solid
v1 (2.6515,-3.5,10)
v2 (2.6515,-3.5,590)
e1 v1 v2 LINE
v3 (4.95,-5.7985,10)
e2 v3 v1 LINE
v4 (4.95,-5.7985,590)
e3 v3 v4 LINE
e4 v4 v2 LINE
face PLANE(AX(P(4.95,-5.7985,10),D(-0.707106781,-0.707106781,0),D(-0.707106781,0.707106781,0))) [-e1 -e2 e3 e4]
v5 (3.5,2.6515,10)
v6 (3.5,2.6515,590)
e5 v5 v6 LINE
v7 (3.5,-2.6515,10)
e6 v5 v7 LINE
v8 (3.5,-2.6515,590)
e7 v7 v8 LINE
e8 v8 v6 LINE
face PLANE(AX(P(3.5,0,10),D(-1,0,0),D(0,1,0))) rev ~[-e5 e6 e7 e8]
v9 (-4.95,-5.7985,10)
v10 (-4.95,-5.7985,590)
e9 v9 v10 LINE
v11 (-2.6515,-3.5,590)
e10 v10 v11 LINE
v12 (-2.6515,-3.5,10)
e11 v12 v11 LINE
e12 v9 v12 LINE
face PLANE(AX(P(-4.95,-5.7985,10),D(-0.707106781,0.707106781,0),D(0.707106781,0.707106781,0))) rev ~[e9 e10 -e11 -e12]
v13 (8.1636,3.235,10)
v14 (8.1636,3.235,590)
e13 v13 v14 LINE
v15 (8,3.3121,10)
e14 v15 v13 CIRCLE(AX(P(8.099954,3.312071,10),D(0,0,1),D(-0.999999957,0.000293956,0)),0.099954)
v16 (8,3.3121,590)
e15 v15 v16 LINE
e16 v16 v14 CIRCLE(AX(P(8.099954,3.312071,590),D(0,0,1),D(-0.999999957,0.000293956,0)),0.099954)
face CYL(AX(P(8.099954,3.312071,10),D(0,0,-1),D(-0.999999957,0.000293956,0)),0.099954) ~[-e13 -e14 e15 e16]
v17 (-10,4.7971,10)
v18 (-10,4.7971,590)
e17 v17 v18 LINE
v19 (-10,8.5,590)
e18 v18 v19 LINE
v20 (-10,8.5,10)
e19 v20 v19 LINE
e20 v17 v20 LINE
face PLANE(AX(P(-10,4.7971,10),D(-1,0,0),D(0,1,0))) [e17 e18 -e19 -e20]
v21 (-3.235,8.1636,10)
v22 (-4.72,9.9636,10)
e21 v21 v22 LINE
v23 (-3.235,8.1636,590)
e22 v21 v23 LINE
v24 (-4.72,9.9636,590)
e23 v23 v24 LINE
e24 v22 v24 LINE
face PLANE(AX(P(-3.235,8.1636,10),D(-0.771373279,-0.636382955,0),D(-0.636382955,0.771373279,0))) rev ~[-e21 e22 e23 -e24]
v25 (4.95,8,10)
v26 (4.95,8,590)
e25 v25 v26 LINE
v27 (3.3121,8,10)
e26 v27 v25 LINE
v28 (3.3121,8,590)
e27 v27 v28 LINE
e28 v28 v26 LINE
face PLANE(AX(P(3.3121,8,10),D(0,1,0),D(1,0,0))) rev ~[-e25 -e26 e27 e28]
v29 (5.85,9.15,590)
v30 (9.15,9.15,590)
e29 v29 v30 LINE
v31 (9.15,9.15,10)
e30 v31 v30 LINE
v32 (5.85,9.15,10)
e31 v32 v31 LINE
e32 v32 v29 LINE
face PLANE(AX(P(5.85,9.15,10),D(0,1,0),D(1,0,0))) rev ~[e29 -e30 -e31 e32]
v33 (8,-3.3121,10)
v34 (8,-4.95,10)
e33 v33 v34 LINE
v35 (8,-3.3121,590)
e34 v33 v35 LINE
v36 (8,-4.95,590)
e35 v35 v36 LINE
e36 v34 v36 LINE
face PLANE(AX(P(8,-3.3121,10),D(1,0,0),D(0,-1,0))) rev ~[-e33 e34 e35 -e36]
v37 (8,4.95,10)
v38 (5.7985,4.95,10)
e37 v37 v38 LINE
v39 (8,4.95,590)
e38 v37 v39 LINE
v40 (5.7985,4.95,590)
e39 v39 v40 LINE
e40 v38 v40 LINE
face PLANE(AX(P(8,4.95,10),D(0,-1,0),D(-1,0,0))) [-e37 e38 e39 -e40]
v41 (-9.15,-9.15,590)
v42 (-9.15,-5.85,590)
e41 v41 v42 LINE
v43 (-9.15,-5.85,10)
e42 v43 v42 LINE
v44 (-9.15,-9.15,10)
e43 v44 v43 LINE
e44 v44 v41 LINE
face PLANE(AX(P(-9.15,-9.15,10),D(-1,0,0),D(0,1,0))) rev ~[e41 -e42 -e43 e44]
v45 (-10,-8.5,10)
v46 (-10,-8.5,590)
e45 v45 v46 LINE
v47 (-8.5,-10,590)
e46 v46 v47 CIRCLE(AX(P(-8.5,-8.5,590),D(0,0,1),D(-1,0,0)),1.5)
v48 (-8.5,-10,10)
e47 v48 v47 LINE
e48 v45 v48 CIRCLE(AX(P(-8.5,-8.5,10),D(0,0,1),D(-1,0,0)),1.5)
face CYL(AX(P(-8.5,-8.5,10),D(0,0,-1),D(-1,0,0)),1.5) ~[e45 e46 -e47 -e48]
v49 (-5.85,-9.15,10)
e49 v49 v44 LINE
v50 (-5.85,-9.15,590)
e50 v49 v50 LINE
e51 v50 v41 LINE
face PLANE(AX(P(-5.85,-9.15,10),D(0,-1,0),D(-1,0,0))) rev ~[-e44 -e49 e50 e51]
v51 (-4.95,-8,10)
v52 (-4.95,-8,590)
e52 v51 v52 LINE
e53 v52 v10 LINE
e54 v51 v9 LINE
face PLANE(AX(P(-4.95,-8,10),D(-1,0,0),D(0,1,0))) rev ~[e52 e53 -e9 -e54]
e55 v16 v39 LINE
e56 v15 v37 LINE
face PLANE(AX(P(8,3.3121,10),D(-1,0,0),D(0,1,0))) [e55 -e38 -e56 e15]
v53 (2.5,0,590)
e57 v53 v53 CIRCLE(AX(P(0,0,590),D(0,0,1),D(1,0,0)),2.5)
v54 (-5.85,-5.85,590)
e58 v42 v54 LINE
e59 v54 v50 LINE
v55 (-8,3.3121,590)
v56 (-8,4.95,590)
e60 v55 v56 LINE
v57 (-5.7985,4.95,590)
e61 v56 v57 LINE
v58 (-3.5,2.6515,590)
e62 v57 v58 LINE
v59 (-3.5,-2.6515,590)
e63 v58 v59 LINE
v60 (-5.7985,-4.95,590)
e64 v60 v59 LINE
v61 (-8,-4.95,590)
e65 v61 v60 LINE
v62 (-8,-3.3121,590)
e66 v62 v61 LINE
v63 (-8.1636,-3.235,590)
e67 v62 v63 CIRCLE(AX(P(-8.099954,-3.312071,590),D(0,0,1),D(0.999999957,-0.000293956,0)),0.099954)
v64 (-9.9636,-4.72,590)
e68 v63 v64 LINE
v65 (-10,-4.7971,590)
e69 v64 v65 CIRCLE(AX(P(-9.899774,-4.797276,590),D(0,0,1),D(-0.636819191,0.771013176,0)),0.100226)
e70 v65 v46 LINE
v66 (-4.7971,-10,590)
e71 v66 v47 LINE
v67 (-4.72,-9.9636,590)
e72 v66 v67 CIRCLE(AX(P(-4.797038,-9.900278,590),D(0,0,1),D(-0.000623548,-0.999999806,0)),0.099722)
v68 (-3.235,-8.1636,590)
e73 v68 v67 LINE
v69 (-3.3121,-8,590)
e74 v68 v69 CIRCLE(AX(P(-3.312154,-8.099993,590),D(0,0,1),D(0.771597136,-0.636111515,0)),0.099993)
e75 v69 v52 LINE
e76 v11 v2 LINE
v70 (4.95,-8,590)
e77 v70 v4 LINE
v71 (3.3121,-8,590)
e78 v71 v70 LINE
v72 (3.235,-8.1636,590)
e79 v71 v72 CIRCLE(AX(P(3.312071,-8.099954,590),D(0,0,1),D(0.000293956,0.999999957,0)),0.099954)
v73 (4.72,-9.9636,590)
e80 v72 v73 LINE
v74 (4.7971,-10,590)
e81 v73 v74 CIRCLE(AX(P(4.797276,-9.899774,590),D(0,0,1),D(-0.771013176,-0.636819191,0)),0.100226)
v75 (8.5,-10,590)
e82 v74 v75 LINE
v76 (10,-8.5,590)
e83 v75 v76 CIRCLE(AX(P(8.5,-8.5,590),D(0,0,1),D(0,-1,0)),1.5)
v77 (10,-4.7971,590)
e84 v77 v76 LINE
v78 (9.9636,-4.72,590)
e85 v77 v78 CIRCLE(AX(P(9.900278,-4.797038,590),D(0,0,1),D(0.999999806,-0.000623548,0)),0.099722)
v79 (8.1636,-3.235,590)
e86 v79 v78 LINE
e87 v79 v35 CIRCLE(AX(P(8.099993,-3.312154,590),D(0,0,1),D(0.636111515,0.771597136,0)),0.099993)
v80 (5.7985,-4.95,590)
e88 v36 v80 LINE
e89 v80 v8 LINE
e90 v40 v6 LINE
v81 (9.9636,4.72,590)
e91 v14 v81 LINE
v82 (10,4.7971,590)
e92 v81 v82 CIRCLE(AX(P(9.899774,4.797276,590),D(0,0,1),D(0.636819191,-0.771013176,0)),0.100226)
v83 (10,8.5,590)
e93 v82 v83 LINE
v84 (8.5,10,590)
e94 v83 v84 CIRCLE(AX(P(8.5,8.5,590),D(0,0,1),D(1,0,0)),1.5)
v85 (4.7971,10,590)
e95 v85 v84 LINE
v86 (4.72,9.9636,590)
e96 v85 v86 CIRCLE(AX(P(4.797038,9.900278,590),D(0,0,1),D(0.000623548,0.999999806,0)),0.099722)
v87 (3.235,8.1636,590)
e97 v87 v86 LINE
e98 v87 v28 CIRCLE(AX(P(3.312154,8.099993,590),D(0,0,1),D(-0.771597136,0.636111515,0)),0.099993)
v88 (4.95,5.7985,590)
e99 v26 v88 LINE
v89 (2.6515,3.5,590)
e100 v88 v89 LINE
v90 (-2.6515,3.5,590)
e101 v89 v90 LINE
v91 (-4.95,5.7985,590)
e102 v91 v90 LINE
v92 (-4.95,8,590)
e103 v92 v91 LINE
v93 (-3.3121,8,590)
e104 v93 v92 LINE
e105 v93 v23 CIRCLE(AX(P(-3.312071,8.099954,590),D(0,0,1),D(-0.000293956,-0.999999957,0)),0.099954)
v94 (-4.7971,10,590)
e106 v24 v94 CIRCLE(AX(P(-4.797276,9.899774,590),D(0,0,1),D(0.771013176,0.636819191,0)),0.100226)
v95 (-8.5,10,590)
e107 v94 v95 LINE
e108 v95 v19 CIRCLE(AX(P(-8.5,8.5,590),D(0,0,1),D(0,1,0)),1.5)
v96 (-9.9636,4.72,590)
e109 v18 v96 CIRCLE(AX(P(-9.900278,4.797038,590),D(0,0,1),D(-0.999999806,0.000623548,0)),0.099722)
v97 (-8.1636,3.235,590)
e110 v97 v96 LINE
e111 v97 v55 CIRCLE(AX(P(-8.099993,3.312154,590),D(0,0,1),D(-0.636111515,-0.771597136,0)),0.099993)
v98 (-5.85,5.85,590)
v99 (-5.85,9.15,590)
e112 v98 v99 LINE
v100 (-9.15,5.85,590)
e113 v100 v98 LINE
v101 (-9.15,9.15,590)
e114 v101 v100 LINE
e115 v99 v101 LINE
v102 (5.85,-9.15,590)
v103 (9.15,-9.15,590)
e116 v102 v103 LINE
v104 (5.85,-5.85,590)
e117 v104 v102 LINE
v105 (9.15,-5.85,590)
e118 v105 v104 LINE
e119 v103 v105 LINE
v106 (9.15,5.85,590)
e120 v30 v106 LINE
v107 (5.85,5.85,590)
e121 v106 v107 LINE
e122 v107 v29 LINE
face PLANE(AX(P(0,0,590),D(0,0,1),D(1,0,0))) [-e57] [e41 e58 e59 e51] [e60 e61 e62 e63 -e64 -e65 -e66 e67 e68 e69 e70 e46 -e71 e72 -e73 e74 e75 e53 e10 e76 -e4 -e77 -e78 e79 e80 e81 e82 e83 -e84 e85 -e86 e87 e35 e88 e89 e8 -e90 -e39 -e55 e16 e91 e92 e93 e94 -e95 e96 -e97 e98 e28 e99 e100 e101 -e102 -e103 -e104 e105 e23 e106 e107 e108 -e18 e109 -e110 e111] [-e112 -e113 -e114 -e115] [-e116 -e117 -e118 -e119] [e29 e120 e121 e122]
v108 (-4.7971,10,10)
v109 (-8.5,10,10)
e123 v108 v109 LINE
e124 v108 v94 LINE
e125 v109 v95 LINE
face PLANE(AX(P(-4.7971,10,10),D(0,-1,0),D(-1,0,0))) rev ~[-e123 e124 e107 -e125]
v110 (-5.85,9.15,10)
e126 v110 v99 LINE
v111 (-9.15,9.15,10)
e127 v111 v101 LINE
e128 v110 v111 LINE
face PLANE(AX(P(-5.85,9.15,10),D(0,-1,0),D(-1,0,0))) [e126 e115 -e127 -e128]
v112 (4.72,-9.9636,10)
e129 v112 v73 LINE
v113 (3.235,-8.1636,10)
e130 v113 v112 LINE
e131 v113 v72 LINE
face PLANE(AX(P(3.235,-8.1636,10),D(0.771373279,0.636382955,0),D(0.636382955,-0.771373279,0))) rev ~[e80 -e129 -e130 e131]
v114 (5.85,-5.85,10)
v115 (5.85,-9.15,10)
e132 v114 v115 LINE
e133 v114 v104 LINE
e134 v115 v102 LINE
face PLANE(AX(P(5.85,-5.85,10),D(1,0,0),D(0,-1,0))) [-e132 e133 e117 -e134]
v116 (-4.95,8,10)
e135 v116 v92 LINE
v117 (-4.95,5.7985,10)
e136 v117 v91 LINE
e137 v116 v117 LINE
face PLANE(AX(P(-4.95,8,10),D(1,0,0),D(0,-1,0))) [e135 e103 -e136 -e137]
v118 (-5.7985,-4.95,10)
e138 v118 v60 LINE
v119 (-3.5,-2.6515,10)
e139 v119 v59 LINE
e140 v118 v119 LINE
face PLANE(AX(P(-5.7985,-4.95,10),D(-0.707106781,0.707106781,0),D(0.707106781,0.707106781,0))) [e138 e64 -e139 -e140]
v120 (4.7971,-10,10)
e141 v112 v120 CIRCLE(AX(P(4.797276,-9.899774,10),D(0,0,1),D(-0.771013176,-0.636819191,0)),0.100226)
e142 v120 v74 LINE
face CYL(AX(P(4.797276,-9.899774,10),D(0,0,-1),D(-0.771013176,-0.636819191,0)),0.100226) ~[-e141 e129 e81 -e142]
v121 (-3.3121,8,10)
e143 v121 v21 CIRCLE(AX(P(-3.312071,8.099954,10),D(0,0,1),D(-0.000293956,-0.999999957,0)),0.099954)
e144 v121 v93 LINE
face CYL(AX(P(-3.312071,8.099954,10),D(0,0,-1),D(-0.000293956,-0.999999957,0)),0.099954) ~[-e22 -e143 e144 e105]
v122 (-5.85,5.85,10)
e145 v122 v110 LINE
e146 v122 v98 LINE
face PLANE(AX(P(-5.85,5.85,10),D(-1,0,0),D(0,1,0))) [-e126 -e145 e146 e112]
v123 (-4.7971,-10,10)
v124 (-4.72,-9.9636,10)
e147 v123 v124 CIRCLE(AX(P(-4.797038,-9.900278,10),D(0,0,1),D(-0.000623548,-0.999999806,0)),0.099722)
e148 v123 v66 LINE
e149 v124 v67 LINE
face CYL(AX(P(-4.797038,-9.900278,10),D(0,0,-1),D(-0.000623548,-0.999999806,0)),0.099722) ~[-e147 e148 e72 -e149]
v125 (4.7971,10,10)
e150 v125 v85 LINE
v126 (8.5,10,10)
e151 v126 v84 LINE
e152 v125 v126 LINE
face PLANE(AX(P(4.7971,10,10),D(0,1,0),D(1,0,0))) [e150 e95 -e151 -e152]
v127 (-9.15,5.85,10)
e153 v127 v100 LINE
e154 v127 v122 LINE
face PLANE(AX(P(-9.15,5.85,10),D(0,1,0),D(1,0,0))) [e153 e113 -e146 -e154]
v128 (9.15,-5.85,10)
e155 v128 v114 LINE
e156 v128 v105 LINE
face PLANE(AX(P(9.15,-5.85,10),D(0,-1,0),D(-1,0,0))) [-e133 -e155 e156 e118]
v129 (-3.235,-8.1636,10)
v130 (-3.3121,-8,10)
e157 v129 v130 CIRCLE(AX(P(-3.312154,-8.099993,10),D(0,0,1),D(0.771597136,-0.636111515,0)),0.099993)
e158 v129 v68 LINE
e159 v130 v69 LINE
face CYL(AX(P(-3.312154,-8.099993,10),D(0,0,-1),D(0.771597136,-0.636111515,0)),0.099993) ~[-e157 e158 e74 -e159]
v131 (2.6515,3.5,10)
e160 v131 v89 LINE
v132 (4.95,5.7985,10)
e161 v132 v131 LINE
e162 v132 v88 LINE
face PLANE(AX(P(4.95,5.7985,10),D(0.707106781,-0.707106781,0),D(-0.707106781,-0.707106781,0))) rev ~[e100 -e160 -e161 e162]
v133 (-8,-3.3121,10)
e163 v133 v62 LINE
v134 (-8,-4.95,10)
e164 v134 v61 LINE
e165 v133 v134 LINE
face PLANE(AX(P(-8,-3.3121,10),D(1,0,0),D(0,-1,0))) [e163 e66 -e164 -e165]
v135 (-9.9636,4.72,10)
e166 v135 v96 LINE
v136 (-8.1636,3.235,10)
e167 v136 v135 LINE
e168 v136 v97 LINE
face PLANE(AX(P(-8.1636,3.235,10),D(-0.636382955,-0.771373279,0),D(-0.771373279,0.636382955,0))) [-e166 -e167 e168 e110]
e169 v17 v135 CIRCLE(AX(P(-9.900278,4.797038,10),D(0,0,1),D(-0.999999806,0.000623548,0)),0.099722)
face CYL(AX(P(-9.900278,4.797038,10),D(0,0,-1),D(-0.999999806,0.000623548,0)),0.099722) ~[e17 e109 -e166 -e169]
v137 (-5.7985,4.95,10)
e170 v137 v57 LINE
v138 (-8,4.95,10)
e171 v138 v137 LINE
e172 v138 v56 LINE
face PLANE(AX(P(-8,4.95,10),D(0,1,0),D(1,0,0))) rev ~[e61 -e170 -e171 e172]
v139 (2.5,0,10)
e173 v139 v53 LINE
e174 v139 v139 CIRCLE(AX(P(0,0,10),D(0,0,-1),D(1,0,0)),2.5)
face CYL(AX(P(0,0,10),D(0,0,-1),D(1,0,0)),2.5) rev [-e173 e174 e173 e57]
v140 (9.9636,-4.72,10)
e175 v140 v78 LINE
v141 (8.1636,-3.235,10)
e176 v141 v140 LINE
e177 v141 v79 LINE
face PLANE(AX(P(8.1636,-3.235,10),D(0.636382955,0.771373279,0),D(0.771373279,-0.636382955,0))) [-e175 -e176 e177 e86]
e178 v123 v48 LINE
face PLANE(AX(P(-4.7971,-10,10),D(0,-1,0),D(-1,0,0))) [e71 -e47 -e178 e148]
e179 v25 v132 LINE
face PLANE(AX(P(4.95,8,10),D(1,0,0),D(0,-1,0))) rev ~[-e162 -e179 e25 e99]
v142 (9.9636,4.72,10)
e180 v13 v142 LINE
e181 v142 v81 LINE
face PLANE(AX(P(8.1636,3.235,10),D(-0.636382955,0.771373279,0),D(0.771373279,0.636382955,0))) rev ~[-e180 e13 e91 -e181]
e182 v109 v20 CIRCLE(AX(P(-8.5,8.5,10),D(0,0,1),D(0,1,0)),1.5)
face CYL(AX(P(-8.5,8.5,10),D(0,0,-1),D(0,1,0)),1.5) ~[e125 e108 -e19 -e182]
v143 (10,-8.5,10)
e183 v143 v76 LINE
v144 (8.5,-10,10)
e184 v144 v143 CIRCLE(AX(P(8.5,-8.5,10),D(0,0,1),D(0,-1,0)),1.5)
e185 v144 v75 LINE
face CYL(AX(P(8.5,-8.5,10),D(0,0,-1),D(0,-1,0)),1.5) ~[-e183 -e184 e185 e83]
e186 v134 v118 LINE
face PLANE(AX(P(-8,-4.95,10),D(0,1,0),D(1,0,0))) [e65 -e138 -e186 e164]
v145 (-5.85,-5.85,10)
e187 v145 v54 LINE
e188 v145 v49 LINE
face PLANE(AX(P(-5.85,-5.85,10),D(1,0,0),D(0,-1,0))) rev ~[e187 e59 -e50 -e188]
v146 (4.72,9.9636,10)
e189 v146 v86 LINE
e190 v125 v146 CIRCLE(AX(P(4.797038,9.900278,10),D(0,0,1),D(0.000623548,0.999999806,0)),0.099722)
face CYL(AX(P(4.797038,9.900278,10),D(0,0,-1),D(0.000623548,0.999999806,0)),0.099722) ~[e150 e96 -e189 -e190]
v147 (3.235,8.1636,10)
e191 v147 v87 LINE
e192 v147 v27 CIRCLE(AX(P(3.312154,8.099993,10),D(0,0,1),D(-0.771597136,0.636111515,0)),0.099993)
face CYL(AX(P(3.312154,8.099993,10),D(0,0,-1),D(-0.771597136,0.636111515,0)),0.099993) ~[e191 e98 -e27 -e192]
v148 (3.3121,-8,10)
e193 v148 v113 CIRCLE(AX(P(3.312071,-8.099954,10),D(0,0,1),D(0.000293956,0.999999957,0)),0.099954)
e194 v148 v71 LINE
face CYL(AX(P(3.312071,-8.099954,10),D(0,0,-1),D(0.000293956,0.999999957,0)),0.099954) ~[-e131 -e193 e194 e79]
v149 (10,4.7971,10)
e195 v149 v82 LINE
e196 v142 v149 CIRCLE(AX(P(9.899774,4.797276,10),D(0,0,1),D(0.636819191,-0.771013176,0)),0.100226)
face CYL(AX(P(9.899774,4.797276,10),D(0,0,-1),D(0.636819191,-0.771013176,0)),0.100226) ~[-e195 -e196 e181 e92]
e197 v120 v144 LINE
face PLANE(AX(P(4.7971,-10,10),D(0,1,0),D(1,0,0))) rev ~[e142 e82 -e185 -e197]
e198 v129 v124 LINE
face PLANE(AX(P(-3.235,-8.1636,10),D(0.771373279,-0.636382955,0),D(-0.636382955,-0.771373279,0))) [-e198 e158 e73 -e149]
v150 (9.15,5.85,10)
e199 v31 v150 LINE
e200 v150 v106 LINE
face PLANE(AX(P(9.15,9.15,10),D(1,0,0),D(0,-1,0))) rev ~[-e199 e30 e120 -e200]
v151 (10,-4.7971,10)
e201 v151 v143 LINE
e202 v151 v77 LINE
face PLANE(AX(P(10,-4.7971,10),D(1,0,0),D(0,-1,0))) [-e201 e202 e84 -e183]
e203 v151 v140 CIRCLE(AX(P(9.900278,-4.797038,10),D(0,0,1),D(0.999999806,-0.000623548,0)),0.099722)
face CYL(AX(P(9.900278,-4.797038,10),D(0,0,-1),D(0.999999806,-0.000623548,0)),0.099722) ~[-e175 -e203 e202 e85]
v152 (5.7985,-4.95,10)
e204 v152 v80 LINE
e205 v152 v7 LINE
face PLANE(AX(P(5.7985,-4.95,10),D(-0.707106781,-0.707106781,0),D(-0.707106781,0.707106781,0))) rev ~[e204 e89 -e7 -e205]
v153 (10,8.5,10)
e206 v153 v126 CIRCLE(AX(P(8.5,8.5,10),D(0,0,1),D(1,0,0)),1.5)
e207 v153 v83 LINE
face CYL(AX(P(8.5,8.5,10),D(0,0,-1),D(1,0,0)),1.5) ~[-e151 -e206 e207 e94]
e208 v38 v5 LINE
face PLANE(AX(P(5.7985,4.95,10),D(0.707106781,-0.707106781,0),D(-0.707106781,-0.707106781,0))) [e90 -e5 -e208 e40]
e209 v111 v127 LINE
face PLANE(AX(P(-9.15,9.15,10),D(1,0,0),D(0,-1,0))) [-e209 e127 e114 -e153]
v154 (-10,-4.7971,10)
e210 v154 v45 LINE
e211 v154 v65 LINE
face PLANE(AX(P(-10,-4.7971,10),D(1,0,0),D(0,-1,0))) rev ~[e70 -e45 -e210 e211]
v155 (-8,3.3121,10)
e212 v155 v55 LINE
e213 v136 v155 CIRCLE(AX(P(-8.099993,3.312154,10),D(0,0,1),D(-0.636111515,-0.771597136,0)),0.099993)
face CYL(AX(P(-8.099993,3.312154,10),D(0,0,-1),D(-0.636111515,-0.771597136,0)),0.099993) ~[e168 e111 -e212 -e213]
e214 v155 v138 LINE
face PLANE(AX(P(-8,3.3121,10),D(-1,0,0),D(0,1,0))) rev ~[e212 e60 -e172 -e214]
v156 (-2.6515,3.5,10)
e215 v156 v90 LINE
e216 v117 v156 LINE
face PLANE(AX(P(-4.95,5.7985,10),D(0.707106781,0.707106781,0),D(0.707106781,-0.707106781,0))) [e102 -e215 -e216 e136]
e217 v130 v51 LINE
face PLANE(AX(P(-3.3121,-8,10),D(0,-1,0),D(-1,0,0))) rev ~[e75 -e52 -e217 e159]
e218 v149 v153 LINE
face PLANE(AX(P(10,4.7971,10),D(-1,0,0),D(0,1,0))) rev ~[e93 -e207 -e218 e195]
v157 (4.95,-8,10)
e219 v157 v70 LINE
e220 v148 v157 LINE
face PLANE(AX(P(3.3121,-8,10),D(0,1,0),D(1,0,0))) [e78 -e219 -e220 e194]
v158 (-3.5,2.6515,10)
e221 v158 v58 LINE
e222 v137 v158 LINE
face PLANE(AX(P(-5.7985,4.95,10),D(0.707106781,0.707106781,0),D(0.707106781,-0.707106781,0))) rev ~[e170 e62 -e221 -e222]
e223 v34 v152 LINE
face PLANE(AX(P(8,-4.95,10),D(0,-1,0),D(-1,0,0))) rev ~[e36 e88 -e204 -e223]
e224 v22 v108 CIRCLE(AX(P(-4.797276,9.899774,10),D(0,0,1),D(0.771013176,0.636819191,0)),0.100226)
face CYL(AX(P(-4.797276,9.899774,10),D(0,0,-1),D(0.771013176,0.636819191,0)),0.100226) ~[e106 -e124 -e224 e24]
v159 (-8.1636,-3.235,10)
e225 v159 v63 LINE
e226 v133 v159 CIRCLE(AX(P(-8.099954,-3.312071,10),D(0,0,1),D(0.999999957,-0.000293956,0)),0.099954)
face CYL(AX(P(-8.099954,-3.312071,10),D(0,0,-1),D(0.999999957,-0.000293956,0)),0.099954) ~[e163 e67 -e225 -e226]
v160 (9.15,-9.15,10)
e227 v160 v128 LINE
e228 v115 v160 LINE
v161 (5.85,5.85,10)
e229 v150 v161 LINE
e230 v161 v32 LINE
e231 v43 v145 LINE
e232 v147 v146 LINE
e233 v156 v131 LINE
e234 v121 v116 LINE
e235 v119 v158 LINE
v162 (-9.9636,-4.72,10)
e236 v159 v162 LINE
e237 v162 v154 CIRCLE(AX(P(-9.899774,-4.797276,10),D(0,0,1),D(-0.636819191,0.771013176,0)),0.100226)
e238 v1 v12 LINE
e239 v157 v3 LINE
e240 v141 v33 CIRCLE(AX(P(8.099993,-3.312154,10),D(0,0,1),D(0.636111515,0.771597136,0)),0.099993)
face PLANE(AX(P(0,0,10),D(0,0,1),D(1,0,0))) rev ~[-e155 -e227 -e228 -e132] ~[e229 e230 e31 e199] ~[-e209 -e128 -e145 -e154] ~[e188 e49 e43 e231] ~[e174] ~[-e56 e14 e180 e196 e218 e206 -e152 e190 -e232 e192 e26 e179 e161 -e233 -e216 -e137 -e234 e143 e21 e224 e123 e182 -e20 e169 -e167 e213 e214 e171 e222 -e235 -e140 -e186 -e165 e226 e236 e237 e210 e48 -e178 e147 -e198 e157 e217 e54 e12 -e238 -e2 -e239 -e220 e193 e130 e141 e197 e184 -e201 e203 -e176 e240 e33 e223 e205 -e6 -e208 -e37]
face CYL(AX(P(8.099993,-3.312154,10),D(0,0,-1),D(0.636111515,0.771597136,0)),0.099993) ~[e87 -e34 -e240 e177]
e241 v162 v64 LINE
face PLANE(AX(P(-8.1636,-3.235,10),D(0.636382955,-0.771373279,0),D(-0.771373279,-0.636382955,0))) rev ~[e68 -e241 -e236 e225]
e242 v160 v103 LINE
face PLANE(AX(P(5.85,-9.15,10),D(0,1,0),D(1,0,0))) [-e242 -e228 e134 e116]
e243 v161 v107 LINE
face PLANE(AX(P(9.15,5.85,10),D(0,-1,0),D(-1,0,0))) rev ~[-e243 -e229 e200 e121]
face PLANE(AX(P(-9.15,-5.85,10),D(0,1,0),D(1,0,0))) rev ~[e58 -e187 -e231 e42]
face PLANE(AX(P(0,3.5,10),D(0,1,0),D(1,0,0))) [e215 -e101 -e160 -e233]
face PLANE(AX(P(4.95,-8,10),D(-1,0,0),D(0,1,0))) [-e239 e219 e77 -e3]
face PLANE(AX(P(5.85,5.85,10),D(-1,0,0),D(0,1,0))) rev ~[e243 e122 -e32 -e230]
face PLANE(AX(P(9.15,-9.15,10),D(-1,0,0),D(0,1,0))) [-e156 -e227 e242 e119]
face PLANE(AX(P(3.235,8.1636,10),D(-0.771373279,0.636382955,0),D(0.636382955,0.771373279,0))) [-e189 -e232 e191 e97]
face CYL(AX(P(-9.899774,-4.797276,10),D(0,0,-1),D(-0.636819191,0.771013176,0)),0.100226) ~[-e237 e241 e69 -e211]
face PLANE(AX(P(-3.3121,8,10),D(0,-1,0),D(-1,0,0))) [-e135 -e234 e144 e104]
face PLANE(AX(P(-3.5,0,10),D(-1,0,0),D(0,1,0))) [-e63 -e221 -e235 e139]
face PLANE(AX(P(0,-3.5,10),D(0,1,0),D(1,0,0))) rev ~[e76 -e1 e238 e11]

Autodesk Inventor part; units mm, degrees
ref_plane "Начальная плоскость" through (0, 0, 10) normal (0, 0, 1) x (1, 0, 0)
ref_plane "Конечная плоскость" through (0, 0, 590) normal (0, 0, 1) x (1, 0, 0)
sketch "Эскиз" plane through (0, 0, 0) normal (0, 0, 1) x (1, 0, 0)
  line L0 (-14.4349, 0) -> (14.4349, 0) projected
  line L1 (0, -14) -> (0, 14) projected
  line L2 (0, 0) -> (7.5, 7.5) construction
  circle A0 centre (7.5, 7.5) radius 1.65 construction
  line L3 (5.85, 9.15) -> (9.15, 9.15)
  line L4 (9.15, 9.15) -> (9.15, 5.85)
  line L5 (9.15, 5.85) -> (5.85, 5.85)
  line L6 (5.85, 5.85) -> (5.85, 9.15)
  line L7 (3.235, 8.1636) -> (4.72, 9.9636)
  line L8 (4.7971, 10) -> (8.5, 10)
  line L9 (3.3121, 8) -> (4.95, 8)
  line L10 (4.95, 8) -> (4.95, 5.7985)
  line L11 (4.95, 5.7985) -> (2.6515, 3.5)
  line L12 (0, 3.5) -> (2.6515, 3.5)
  circle A1 centre (0, 0) radius 2.5
  line L13 (8.1636, 3.235) -> (9.9636, 4.72)
  line L14 (10, 4.7971) -> (10, 8.5)
  line L15 (8, 3.3121) -> (8, 4.95)
  line L16 (8, 4.95) -> (5.7985, 4.95)
  line L17 (5.7985, 4.95) -> (3.5, 2.6515)
  line L18 (3.5, 0) -> (3.5, 2.6515)
  arc A2 (10, 8.5) -> (8.5, 10) centre (8.5, 8.5) ccw
  line L19 (0, 0) -> (-7.5, 7.5) construction
  circle A3 centre (-7.5, 7.5) radius 1.65 construction
  line L20 (-5.85, 9.15) -> (-9.15, 9.15)
  line L21 (-9.15, 9.15) -> (-9.15, 5.85)
  line L22 (-9.15, 5.85) -> (-5.85, 5.85)
  line L23 (-5.85, 5.85) -> (-5.85, 9.15)
  line L24 (-3.235, 8.1636) -> (-4.72, 9.9636)
  line L25 (-4.7971, 10) -> (-8.5, 10)
  line L26 (-3.3121, 8) -> (-4.95, 8)
  line L27 (-4.95, 8) -> (-4.95, 5.7985)
  line L28 (-4.95, 5.7985) -> (-2.6515, 3.5)
  line L29 (0, 3.5) -> (-2.6515, 3.5)
  line L30 (-3.5, 0) -> (-3.5, 2.6515)
  line L31 (-5.7985, 4.95) -> (-3.5, 2.6515)
  line L32 (-8, 4.95) -> (-5.7985, 4.95)
  line L33 (-8, 3.3121) -> (-8, 4.95)
  line L34 (-8.1636, 3.235) -> (-9.9636, 4.72)
  line L35 (-10, 4.7971) -> (-10, 8.5)
  arc A4 (-8.5, 10) -> (-10, 8.5) centre (-8.5, 8.5) ccw
  line L36 (0, 14) -> (0, -14)
  line L37 (0, 0) -> (7.5, -7.5) construction
  circle A5 centre (7.5, -7.5) radius 1.65 construction
  line L38 (5.85, -9.15) -> (9.15, -9.15)
  line L39 (9.15, -9.15) -> (9.15, -5.85)
  line L40 (9.15, -5.85) -> (5.85, -5.85)
  line L41 (5.85, -5.85) -> (5.85, -9.15)
  line L42 (3.235, -8.1636) -> (4.72, -9.9636)
  line L43 (4.7971, -10) -> (8.5, -10)
  line L44 (3.3121, -8) -> (4.95, -8)
  line L45 (4.95, -8) -> (4.95, -5.7985)
  line L46 (4.95, -5.7985) -> (2.6515, -3.5)
  line L47 (0, -3.5) -> (2.6515, -3.5)
  line L48 (3.5, 0) -> (3.5, -2.6515)
  line L49 (5.7985, -4.95) -> (3.5, -2.6515)
  line L50 (8, -4.95) -> (5.7985, -4.95)
  line L51 (8, -3.3121) -> (8, -4.95)
  line L52 (8.1636, -3.235) -> (9.9636, -4.72)
  line L53 (10, -4.7971) -> (10, -8.5)
  arc A6 (8.5, -10) -> (10, -8.5) centre (8.5, -8.5) ccw
  line L54 (0, 0) -> (-7.5, -7.5) construction
  line L55 (-4.95, -8) -> (-4.95, -5.7985)
  line L56 (-3.3121, -8) -> (-4.95, -8)
  line L57 (-5.7985, -4.95) -> (-3.5, -2.6515)
  line L58 (-4.95, -5.7985) -> (-2.6515, -3.5)
  line L59 (-3.5, 0) -> (-3.5, -2.6515)
  line L60 (0, -3.5) -> (-2.6515, -3.5)
  circle A7 centre (-7.5, -7.5) radius 1.65 construction
  line L61 (-5.85, -5.85) -> (-5.85, -9.15)
  line L62 (-5.85, -9.15) -> (-9.15, -9.15)
  line L63 (-9.15, -9.15) -> (-9.15, -5.85)
  line L64 (-9.15, -5.85) -> (-5.85, -5.85)
  line L65 (-3.235, -8.1636) -> (-4.72, -9.9636)
  line L66 (-8, -4.95) -> (-5.7985, -4.95)
  line L67 (-8, -3.3121) -> (-8, -4.95)
  line L68 (-8.1636, -3.235) -> (-9.9636, -4.72)
  line L69 (-4.7971, -10) -> (-8.5, -10)
  line L70 (-10, -4.7971) -> (-10, -8.5)
  arc A8 (-10, -8.5) -> (-8.5, -10) centre (-8.5, -8.5) ccw
  arc A9 (3.235, 8.1636) -> (3.3121, 8) centre (3.3121, 8.1) ccw
  arc A10 (4.7971, 10) -> (4.72, 9.9636) centre (4.7971, 9.9) ccw
  arc A11 (8, 3.3121) -> (8.1636, 3.235) centre (8.1, 3.3121) ccw
  arc A12 (9.9636, 4.72) -> (10, 4.7971) centre (9.9, 4.7971) ccw
  arc A13 (-3.3121, 8) -> (-3.235, 8.1636) centre (-3.3121, 8.1) ccw
  arc A14 (-4.72, 9.9636) -> (-4.7971, 10) centre (-4.7971, 9.9) ccw
  arc A15 (-8.1636, 3.235) -> (-8, 3.3121) centre (-8.1, 3.3121) ccw
  arc A16 (-10, 4.7971) -> (-9.9636, 4.72) centre (-9.9, 4.7971) ccw
  arc A17 (-8, -3.3121) -> (-8.1636, -3.235) centre (-8.1, -3.3121) ccw
  arc A18 (-9.9636, -4.72) -> (-10, -4.7971) centre (-9.9, -4.7971) ccw
  arc A19 (-3.235, -8.1636) -> (-3.3121, -8) centre (-3.3121, -8.1) ccw
  arc A20 (-4.7971, -10) -> (-4.72, -9.9636) centre (-4.7971, -9.9) ccw
  arc A21 (4.72, -9.9636) -> (4.7971, -10) centre (4.7971, -9.9) ccw
  arc A22 (3.3121, -8) -> (3.235, -8.1636) centre (3.3121, -8.1) ccw
  arc A23 (8.1636, -3.235) -> (8, -3.3121) centre (8.1, -3.3121) ccw
  arc A24 (10, -4.7971) -> (9.9636, -4.72) centre (9.9, -4.7971) ccw
  point P0 (3.1, 8)
  point P1 (4.75, 10)
  point P2 (7.5, 9.15)
  point P3 (8, 3.1)
  point P4 (10, 4.75)
  point P5 (7.5, 5.85)
  point P6 (9.15, 7.5)
  point P7 (-3.1, 8)
  point P8 (-4.75, 10)
  point P9 (-7.5, 9.15)
  point P10 (-8, 3.1)
  point P11 (-10, 4.75)
  point P12 (-7.5, 5.85)
  point P13 (-9.15, 7.5)
  point P14 (3.1, -8)
  point P15 (4.75, -10)
  point P16 (7.5, -9.15)
  point P17 (8, -3.1)
  point P18 (10, -4.75)
  point P19 (7.5, -5.85)
  point P20 (9.15, -7.5)
  point P21 (-3.1, -8)
  point P22 (-7.5, -5.85)
  point P23 (-7.5, -9.15)
  point P24 (-9.15, -7.5)
  point P25 (-4.75, -10)
  point P26 (-8, -3.1)
  point P27 (-10, -4.75)
  dimension "d0" = 45
  dimension "d1" = 3.3
  dimension "d2" = 1.5
  dimension "d3" = 1.2
  dimension "d4" = 5
  dimension "d5" = 6.5
  dimension "d6" = 15
  dimension "d7" = 20
  dimension "d8" = 9.9
  dimension "d9" = 9.5
  dimension "d10" = 6.2
  dimension "d11" = 2
  dimension "d18" = 0.1
  dimension "d19" = 0.1
extrude "Тело" add sketch "Эскиз" along normal up to surface (580 mm away) from surface at 10 contours A1 L1 L12 L11 L10 L9 A9 L7 A10 L8 A2 L14 A12 L13 A11 L15 L16 L17 L18 L0 | L0 L48 L49 L50 L51 A23 L52 A24 L53 A6 L43 A21 L42 A22 L44 L45 L46 L47 L1 A1 | A1 L0 L30 L31 L32 L33 A15 L34 A16 L35 A4 L25 A14 L24 A13 L26 L27 L28 L29 L1 | L1 L60 L58 L55 L56 A19 L65 A20 L69 A8 L70 A18 L68 A17 L67 L66 L57 L59 L0 A1
sketch "Эскиз2" plane through (0, 0, 0) normal (0, 0, 1) x (1, 0, 0)
  line L0 (0, 0) -> (10, 0)
ref_plane "РабПлоскость3" through (0, 0, 0) normal (0, -1, 0) x (1, 0, 0)
sketch "Эскиз3" plane through (0, 0, 0) normal (0, -1, 0) x (1, 0, 0)
  line L0 (-2, 10) -> (12, 10)
  line L1 (-2, 590) -> (12, 590)
  dimension "d25" = 580
ref_plane "РабПлоскость5" through (8.5, 0, 590) normal (0, 0, 1) x (1, 0, 0)
split "Разделение2" plane through (8.5, 0, 590) removes the side toward (0, 0, 1)
ref_plane "РабПлоскость6" through (300, 0, 590) normal (0, 0, 1) x (1, 0, 0)
split "Разделение3" plane through (300, 0, 590) removes the side toward (0, 0, 1)
ref_plane "РабПлоскость7" through (290, 0, 10) normal (0, 0, -1) x (-1, 0, 0)
split "Разделение4" plane through (290, 0, 10) removes the side toward (0, 0, -1)
ref_plane "РабПлоскость8" through (0, 10, 10) normal (0, 0, -1) x (-1, 0, 0)
split "Разделение5" plane through (0, 10, 10) removes the side toward (0, 0, -1)
properties part number "короткая палка"
